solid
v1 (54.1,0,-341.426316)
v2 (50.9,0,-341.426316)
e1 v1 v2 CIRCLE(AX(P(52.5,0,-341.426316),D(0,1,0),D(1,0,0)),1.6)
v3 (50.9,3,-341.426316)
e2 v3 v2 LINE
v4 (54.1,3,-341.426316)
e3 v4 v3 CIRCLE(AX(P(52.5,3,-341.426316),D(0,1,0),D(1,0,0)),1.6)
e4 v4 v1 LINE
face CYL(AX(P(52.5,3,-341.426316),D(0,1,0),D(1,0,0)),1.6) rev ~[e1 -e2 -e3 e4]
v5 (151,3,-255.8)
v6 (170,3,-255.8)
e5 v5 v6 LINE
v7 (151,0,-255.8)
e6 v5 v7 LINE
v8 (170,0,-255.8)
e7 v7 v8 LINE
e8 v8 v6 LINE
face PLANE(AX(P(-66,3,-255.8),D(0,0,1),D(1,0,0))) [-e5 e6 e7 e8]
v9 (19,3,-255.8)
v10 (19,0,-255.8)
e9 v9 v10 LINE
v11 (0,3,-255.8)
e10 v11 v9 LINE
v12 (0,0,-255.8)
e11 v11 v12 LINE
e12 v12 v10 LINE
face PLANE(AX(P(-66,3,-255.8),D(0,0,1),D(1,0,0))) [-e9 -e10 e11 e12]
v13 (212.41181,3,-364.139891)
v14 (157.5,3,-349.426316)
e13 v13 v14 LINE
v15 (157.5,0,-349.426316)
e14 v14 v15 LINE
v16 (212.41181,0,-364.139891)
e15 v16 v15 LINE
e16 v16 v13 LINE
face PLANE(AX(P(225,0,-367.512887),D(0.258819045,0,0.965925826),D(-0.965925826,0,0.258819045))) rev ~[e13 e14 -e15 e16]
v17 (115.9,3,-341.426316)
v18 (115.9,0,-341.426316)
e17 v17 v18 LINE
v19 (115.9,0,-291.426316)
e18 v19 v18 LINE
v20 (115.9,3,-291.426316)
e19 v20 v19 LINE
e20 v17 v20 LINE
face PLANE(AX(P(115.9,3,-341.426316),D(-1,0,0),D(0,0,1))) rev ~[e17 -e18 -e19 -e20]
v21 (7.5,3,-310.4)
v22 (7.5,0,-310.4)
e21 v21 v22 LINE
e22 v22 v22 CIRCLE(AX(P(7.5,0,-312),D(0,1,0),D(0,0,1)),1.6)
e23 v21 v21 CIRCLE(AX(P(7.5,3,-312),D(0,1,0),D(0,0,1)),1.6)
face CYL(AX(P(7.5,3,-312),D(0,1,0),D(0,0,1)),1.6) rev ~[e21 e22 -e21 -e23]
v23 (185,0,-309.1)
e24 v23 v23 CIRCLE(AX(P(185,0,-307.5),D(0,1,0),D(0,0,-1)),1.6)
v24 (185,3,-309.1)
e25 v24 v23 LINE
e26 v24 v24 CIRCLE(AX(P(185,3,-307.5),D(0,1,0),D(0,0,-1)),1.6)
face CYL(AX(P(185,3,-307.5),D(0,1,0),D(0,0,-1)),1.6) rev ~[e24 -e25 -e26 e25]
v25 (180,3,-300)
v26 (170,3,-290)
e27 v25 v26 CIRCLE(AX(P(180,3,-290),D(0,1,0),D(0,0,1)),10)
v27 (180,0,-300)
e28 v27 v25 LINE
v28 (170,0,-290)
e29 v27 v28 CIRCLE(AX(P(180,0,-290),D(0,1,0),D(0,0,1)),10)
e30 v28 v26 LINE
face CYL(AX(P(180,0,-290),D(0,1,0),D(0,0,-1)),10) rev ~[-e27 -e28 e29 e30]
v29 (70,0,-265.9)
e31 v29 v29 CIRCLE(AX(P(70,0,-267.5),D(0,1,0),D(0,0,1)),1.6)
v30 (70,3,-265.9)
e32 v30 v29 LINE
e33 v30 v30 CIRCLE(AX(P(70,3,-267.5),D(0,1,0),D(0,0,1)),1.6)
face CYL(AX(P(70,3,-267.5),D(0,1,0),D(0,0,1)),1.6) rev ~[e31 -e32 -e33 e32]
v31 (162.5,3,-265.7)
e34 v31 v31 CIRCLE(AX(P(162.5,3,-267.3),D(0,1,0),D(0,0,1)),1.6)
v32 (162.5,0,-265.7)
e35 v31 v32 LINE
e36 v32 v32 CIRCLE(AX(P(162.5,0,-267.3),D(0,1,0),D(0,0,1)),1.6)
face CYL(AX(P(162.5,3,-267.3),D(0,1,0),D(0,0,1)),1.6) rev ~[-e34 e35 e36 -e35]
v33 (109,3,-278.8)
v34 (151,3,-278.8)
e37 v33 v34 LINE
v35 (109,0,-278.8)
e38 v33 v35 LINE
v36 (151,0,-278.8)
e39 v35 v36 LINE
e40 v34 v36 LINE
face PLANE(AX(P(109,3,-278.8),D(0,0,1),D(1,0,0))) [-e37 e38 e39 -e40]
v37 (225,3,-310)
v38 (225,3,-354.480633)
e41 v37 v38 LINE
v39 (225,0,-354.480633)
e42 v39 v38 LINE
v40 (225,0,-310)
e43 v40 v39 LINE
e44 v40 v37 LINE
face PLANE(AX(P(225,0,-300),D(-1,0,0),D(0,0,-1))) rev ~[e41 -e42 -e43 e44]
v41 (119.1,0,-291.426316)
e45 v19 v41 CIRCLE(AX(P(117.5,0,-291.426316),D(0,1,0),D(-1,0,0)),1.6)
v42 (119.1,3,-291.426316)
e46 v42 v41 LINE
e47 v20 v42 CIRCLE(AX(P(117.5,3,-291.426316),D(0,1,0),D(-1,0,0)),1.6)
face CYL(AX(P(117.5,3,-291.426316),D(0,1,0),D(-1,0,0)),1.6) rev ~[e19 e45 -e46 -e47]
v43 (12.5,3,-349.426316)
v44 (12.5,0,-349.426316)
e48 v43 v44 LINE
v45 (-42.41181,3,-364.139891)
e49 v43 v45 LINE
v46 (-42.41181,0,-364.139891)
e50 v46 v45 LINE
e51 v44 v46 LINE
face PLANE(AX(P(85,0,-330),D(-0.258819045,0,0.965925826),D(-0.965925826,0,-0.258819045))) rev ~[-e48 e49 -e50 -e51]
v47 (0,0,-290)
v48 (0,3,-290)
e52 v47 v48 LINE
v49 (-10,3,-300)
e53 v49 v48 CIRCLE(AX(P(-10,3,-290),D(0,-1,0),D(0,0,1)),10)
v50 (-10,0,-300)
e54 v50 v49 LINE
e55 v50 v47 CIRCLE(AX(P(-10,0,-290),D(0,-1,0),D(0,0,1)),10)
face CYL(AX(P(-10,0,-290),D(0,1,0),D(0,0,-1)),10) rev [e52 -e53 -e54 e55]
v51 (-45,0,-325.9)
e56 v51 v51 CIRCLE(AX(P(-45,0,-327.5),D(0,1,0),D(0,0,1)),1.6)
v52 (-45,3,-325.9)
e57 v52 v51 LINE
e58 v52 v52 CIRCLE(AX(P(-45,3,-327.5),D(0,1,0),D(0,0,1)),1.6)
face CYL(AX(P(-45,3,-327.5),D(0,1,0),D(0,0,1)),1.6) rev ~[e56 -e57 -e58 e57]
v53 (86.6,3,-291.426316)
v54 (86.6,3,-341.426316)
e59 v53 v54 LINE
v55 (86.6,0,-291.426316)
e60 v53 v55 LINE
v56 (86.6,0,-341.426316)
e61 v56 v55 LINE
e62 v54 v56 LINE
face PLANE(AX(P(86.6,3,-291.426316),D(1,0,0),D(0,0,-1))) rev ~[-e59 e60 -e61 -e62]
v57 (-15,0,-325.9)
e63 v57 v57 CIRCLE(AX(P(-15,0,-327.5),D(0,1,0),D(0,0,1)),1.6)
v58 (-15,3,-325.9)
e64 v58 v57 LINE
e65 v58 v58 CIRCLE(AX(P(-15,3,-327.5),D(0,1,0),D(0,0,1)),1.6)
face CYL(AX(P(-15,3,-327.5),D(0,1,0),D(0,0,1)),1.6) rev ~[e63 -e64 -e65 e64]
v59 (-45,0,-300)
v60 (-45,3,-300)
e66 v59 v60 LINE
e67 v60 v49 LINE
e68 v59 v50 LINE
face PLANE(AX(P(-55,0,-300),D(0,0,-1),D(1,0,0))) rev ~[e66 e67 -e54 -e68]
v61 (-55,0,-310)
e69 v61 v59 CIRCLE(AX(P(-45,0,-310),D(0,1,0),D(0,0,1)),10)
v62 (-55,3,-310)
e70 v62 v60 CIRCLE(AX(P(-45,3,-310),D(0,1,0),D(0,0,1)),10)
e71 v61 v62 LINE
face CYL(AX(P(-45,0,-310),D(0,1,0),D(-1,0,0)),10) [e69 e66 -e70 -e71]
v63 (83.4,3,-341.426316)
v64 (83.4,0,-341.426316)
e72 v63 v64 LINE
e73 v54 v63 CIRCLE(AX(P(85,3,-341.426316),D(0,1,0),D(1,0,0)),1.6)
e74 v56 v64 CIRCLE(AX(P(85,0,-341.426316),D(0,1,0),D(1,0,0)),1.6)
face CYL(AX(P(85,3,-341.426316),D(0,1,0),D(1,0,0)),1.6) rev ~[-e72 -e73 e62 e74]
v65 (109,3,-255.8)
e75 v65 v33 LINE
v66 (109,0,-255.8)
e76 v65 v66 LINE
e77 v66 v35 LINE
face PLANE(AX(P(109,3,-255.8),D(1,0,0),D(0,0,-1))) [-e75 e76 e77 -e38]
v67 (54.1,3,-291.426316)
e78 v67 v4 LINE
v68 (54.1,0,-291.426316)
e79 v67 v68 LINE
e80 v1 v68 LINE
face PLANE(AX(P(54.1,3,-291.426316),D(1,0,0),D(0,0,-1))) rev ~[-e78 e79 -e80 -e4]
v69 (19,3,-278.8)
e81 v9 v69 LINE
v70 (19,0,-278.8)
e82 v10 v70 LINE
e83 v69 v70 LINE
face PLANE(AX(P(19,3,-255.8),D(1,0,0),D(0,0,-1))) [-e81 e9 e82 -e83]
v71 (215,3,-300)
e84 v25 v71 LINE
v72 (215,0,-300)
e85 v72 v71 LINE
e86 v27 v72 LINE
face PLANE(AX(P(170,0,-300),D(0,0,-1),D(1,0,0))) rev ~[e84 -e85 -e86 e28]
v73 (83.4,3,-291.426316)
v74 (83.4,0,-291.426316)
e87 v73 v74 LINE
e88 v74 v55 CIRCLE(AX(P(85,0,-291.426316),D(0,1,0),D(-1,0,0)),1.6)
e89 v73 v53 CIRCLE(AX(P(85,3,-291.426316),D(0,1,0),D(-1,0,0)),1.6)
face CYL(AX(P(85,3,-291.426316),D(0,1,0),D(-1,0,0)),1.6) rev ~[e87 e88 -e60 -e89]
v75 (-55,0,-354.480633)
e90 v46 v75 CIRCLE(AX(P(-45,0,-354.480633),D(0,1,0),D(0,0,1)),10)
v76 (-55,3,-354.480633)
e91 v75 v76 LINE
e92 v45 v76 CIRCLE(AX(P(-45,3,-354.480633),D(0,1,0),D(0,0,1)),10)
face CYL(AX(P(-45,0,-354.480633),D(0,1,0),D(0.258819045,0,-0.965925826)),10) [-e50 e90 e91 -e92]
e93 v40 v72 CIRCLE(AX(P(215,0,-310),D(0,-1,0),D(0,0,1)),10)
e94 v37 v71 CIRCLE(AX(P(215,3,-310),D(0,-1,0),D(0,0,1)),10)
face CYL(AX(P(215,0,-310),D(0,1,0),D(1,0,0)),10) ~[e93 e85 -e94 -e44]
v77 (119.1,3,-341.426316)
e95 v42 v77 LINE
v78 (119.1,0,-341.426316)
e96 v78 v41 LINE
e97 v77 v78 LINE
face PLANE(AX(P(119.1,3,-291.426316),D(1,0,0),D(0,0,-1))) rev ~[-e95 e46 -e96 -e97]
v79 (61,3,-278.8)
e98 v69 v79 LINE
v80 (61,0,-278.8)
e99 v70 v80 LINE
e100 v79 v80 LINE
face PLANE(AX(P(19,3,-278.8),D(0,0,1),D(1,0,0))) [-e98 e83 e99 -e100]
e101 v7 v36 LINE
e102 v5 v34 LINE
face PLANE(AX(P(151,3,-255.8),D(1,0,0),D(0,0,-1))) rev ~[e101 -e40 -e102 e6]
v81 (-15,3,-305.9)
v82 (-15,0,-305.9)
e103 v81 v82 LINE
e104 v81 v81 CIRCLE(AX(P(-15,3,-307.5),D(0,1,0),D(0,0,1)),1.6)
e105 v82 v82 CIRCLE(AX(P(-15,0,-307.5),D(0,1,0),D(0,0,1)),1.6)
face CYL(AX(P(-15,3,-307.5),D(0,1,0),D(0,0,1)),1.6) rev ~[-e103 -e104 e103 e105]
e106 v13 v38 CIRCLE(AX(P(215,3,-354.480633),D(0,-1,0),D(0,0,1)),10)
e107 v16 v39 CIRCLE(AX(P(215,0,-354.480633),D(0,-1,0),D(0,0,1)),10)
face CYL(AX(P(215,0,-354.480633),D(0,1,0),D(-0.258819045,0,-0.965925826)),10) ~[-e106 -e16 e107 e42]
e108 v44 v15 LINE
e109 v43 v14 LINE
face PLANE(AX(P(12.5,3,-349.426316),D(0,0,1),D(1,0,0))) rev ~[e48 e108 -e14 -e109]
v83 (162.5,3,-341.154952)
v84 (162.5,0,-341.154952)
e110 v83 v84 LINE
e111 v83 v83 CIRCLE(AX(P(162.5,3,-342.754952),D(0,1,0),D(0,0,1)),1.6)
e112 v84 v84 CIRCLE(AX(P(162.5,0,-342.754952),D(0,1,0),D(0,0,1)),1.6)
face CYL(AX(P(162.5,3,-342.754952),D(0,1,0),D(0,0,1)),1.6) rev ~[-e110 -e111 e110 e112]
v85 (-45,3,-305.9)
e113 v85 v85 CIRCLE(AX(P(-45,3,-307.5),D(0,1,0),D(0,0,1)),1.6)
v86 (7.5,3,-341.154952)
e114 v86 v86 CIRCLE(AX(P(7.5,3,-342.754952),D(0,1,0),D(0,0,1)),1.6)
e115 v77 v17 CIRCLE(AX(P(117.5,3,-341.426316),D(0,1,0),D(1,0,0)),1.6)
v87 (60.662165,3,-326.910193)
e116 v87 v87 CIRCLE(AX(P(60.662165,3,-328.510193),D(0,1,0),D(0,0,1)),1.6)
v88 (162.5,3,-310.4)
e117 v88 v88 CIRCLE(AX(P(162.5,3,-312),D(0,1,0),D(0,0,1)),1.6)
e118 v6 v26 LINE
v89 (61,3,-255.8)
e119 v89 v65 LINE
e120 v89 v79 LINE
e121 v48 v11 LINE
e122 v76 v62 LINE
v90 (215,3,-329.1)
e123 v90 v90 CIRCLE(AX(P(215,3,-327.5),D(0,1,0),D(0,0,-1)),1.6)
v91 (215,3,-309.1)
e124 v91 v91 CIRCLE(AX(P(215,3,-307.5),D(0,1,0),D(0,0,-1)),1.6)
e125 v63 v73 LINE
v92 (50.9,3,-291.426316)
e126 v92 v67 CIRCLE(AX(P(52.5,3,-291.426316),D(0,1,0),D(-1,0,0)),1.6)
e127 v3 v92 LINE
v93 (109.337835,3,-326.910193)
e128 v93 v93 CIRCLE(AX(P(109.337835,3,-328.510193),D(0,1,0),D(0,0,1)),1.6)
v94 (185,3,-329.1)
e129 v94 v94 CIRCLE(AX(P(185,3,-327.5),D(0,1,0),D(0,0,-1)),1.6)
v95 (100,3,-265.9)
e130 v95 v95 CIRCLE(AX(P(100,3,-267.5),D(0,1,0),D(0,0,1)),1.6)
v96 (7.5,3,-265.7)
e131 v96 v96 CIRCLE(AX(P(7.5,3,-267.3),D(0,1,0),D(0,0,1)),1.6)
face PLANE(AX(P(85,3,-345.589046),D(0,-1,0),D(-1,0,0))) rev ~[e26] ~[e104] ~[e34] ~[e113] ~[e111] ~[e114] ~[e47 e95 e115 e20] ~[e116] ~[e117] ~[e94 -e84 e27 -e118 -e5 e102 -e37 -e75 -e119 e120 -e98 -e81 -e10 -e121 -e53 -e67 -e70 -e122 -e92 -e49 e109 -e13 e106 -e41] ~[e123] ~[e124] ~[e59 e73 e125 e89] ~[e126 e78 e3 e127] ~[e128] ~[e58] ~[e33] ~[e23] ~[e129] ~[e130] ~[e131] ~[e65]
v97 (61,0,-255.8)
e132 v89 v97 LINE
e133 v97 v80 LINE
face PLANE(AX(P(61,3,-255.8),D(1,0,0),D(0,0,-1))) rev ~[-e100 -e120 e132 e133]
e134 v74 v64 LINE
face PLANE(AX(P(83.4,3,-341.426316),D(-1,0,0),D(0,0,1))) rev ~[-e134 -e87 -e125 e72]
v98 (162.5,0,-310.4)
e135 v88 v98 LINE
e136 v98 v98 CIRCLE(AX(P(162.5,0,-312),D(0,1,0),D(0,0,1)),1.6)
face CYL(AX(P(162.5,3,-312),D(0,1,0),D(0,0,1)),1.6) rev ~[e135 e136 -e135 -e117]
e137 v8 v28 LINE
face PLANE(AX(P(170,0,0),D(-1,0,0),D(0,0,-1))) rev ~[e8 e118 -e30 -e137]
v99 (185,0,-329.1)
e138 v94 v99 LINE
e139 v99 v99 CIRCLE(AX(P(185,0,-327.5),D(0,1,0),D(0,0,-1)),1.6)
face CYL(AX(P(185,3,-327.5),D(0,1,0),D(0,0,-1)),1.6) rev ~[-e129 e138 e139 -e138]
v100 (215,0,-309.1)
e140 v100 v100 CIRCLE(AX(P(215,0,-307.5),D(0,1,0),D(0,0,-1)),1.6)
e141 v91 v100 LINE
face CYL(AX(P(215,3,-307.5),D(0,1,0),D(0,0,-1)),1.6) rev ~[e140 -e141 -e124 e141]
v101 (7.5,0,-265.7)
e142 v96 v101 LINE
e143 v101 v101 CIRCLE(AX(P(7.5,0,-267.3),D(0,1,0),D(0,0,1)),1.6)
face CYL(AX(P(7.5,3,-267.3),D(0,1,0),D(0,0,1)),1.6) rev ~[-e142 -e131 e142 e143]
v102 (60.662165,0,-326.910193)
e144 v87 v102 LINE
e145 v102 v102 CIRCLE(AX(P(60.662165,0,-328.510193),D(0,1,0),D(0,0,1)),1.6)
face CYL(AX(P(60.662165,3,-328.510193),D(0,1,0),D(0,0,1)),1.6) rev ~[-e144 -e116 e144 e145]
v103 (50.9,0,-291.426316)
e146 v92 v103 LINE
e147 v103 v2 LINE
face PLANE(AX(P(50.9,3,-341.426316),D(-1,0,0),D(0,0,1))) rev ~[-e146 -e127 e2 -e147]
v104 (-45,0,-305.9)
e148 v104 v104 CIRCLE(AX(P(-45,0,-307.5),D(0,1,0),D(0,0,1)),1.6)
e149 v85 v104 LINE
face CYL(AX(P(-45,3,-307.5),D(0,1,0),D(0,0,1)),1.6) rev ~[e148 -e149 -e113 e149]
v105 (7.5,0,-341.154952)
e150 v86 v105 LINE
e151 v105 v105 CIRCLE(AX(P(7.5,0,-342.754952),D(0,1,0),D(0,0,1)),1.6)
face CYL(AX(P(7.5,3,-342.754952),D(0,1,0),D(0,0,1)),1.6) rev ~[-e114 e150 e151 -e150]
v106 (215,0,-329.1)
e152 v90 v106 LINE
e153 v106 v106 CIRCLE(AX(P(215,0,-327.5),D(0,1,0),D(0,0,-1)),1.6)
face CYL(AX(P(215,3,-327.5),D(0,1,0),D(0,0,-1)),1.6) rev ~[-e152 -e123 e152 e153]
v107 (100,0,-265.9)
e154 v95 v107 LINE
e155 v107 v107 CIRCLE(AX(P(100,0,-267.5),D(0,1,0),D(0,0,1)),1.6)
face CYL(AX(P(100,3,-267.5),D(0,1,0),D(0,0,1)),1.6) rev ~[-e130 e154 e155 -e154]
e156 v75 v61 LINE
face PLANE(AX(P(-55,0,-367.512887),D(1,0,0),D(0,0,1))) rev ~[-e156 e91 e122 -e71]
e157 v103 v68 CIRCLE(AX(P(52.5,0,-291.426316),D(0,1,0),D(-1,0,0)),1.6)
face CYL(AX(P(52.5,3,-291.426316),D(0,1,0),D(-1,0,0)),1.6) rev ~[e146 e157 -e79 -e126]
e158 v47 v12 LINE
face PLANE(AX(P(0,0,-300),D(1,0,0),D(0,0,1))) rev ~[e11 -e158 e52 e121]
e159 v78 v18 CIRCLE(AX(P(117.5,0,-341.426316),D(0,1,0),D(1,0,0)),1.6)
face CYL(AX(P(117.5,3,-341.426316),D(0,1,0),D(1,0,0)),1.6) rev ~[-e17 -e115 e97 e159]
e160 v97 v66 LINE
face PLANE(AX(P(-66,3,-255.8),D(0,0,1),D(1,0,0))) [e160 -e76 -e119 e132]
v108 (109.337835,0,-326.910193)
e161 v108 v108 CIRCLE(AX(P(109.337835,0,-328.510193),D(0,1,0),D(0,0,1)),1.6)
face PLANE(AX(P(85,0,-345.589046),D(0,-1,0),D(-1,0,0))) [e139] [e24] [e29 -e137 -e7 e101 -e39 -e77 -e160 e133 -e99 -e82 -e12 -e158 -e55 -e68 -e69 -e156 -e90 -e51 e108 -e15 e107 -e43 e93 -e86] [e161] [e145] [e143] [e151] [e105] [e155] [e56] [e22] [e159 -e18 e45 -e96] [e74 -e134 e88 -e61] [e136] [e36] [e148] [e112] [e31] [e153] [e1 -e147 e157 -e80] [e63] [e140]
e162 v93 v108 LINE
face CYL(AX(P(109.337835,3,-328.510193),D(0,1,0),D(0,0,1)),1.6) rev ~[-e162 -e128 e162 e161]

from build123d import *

# Parameters (mm, degrees)
BOSS_EXTRUDE1_DEPTH = 3
FILLET1_R           = 200
FILLET2_R           = 10
CUT_EXTRUDE2_DEPTH  = 429.345808882
SKETCH3_W           = 42
SKETCH3_H           = 23
SKETCH3_H_2         = 19
CUT_EXTRUDE3_DEPTH  = 429.345808882
SKETCH4_R           = 1.6
CUT_EXTRUDE5_DEPTH  = 429.345808882
SKETCH5_R           = 1.6
CUT_EXTRUDE6_DEPTH  = 429.345808882
SKETCH6_W           = 66
SKETCH6_H           = 15
SKETCH6_R           = 1.6
BOSS_EXTRUDE2_DEPTH = 3
FILLET3_R           = 5
SKETCH7_R           = 1.6
CUT_EXTRUDE7_DEPTH  = 435.224748243
SKETCH9_R           = 1.6
CUT_EXTRUDE8_DEPTH  = 435.224748243
SKETCH10_W          = 302
SKETCH10_H          = 255.8
CUT_EXTRUDE9_DEPTH  = 10
BOSS_EXTRUDE5_DEPTH = 3
CUT_EXTRUDE10_DEPTH = 10


with BuildPart() as part:
    # Sketch1 → Boss-Extrude1 (new body)
    with BuildSketch(Plane(origin=(0, 0, 0), x_dir=(1, 0, 0), z_dir=(0, 1, 0))):
        Polygon((0, 0), (170, 0), (170, 300), (225, 300), (225, 367.51288694), (85, 330), (-55, 367.51288694), (-55, 300), (0, 300), align=None)
    extrude(amount=BOSS_EXTRUDE1_DEPTH)

    # Fillet1
    fillet1_edges = [part.edges().sort_by_distance(p)[0] for p in [
        (85, 1.5, -330),
    ]]
    fillet(fillet1_edges, radius=FILLET1_R)

    # Fillet2
    fillet2_edges = [part.edges().sort_by_distance(p)[0] for p in [
        (0, 1.5, -300),
        (-55, 1.5, -300),
        (-55, 1.5, -367.51288694),
        (225, 1.5, -367.51288694),
        (225, 1.5, -300),
        (170, 1.5, -300),
        (170, 1.5, 0),
        (0, 1.5, 0),
    ]]
    fillet(fillet2_edges, radius=FILLET2_R)

    # Sketch2 → Cut-Extrude2 (cut, through all)
    with BuildSketch(Plane(origin=(0, 3, 0), x_dir=(1, 0, 0), z_dir=(0, 1, 0))):
        with BuildLine():
            ThreePointArc((132.5, 80), (118.587572106, 113.587572106), (85, 127.5))
            Line((85, 127.5), (85, 32.5))
            ThreePointArc((85, 32.5), (118.587572106, 46.412427894), (132.5, 80))
        make_face()
        with BuildLine():
            Line((85, 32.5), (85, 127.5))
            ThreePointArc((85, 127.5), (37.5, 80), (85, 32.5))
        make_face()
    extrude(amount=-CUT_EXTRUDE2_DEPTH, mode=Mode.SUBTRACT)

    # Sketch3 → Cut-Extrude3 (cut, through all)
    with BuildSketch(Plane(origin=(0, 3, 0), x_dir=(1, 0, 0), z_dir=(0, 1, 0))):
        with Locations((40, 267.3)):
            Rectangle(SKETCH3_W, SKETCH3_H)
        with Locations((130, 267.3)):
            Rectangle(SKETCH3_W, SKETCH3_H)
        with Locations((40, 9.5)):
            Rectangle(SKETCH3_W, SKETCH3_H_2)
        with Locations((130, 9.5)):
            Rectangle(SKETCH3_W, SKETCH3_H_2)
    extrude(amount=-CUT_EXTRUDE3_DEPTH, mode=Mode.SUBTRACT)

    # Sketch4 → Cut-Extrude5 (cut, through all)
    with BuildSketch(Plane(origin=(0, 3, 0), x_dir=(1, 0, 0), z_dir=(0, 1, 0))):
        with Locations(Location((85, 133, 0), (0, 0, 270))):
            Circle(SKETCH4_R)
        with Locations(Location((122.476659403, 117.476659403, 0), (0, 0, 270))):
            Circle(SKETCH4_R)
        with Locations(Location((138, 80, 0), (0, 0, 270))):
            Circle(SKETCH4_R)
        with Locations(Location((122.476659403, 42.523340597, 0), (0, 0, 270))):
            Circle(SKETCH4_R)
        with Locations(Location((85, 27, 0), (0, 0, 270))):
            Circle(SKETCH4_R)
        with Locations(Location((47.523340597, 42.523340597, 0), (0, 0, 270))):
            Circle(SKETCH4_R)
        with Locations(Location((32, 80, 0), (0, 0, 270))):
            Circle(SKETCH4_R)
        with Locations(Location((47.523340597, 117.476659403, 0), (0, 0, 270))):
            Circle(SKETCH4_R)
    extrude(amount=-CUT_EXTRUDE5_DEPTH, mode=Mode.SUBTRACT)

    # Sketch5 → Cut-Extrude6 (cut, through all)
    with BuildSketch(Plane(origin=(0, 3, 0), x_dir=(1, 0, 0), z_dir=(0, 1, 0))):
        with Locations(Location((7.5, 312, 0), (0, 0, 270))):
            Circle(SKETCH5_R)
        with Locations(Location((7.5, 267.3, 0), (0, 0, 270))):
            Circle(SKETCH5_R)
        with Locations(Location((7.5, 222.3, 0), (0, 0, 270))):
            Circle(SKETCH5_R)
        with Locations(Location((7.5, 97.5, 0), (0, 0, 270))):
            Circle(SKETCH5_R)
        with Locations(Location((7.5, 7.5, 0), (0, 0, 270))):
            Circle(SKETCH5_R)
        with Locations(Location((7.5, 52.5, 0), (0, 0, 270))):
            Circle(SKETCH5_R)
        with Locations(Location((70, 7.5, 0), (0, 0, 270))):
            Circle(SKETCH5_R)
        with Locations(Location((100, 7.5, 0), (0, 0, 270))):
            Circle(SKETCH5_R)
        with Locations(Location((162.5, 7.5, 0), (0, 0, 270))):
            Circle(SKETCH5_R)
        with Locations(Location((162.5, 52.5, 0), (0, 0, 270))):
            Circle(SKETCH5_R)
        with Locations(Location((162.5, 97.5, 0), (0, 0, 270))):
            Circle(SKETCH5_R)
        with Locations(Location((162.5, 222.3, 0), (0, 0, 270))):
            Circle(SKETCH5_R)
        with Locations(Location((162.5, 267.3, 0), (0, 0, 270))):
            Circle(SKETCH5_R)
        with Locations(Location((162.5, 312, 0), (0, 0, 270))):
            Circle(SKETCH5_R)
        with Locations(Location((162.5, 342.75495241, 0), (0, 0, 270))):
            Circle(SKETCH5_R)
        with Locations(Location((109.337835254, 328.510193298, 0), (0, 0, 270))):
            Circle(SKETCH5_R)
        with Locations(Location((60.662164746, 328.510193298, 0), (0, 0, 270))):
            Circle(SKETCH5_R)
        with Locations(Location((7.5, 342.75495241, 0), (0, 0, 270))):
            Circle(SKETCH5_R)
        with Locations(Location((70, 267.5, 0), (0, 0, 270))):
            Circle(SKETCH5_R)
        with Locations(Location((100, 267.5, 0), (0, 0, 270))):
            Circle(SKETCH5_R)
    extrude(amount=-CUT_EXTRUDE6_DEPTH, mode=Mode.SUBTRACT)

    # Sketch6 → Boss-Extrude2 (add)
    # profile 1 of 2: a face of its own
    with BuildSketch(Plane.XZ):
        with Locations((-33, -52.5)):
            Rectangle(SKETCH6_W, SKETCH6_H)
        with Locations(Location((-45, -52.5, 0), (0, 0, 270))):
            Circle(SKETCH6_R, mode=Mode.SUBTRACT)
        with Locations(Location((-21, -52.5, 0), (0, 0, 270))):
            Circle(SKETCH6_R, mode=Mode.SUBTRACT)
    # profile 2 of 2: a face of its own
    with BuildSketch(Plane.XZ):
        with Locations((203, -52.5)):
            Rectangle(SKETCH6_W, SKETCH6_H)
        with Locations(Location((191, -52.5, 0), (0, 0, 270))):
            Circle(SKETCH6_R, mode=Mode.SUBTRACT)
        with Locations(Location((215, -52.5, 0), (0, 0, 270))):
            Circle(SKETCH6_R, mode=Mode.SUBTRACT)
    extrude(amount=-BOSS_EXTRUDE2_DEPTH)

    # Fillet3
    fillet3_edges = [part.edges().sort_by_distance(p)[0] for p in [
        (19, 1.5, 0),
        (61, 1.5, 0),
        (109, 1.5, 0),
        (109, 1.5, -19),
        (151, 1.5, -19),
        (151, 1.5, 0),
        (0, 1.5, -45),
        (0, 1.5, -60),
        (-66, 1.5, -60),
        (-66, 1.5, -45),
        (170, 1.5, -60),
        (170, 1.5, -45),
        (236, 1.5, -45),
        (236, 1.5, -60),
    ]]
    fillet(fillet3_edges, radius=FILLET3_R)

    # Sketch7 → Cut-Extrude7 (cut, through all)
    with BuildSketch(Plane(origin=(0, 3, 0), x_dir=(1, 0, 0), z_dir=(0, 1, 0))):
        with Locations(Location((130, 171.5, 0), (0, 0, 270))):
            Circle(SKETCH7_R)
        with Locations(Location((145, 171.5, 0), (0, 0, 270))):
            Circle(SKETCH7_R)
        with Locations(Location((145, 159.5, 0), (0, 0, 270))):
            Circle(SKETCH7_R)
        with Locations(Location((130, 159.5, 0), (0, 0, 270))):
            Circle(SKETCH7_R)
        with Locations(Location((25, 171.5, 0), (0, 0, 270))):
            Circle(SKETCH7_R)
        with Locations(Location((40, 171.5, 0), (0, 0, 270))):
            Circle(SKETCH7_R)
        with Locations(Location((40, 159.5, 0), (0, 0, 270))):
            Circle(SKETCH7_R)
        with Locations(Location((25, 159.5, 0), (0, 0, 270))):
            Circle(SKETCH7_R)
        with Locations(Location((70, 242, 0), (0, 0, 270))):
            Circle(SKETCH7_R)
        with Locations(Location((100, 242, 0), (0, 0, 270))):
            Circle(SKETCH7_R)
    extrude(amount=-CUT_EXTRUDE7_DEPTH, mode=Mode.SUBTRACT)

    # Sketch9 → Cut-Extrude8 (cut, through all)
    with BuildSketch(Plane(origin=(0, 3, 0), x_dir=(1, 0, 0), z_dir=(0, 1, 0))):
        with Locations(Location((-45, 307.5, 0), (0, 0, 270))):
            Circle(SKETCH9_R)
        with Locations(Location((-15, 307.5, 0), (0, 0, 270))):
            Circle(SKETCH9_R)
        with Locations(Location((-45, 327.5, 0), (0, 0, 270))):
            Circle(SKETCH9_R)
        with Locations(Location((-15, 327.5, 0), (0, 0, 270))):
            Circle(SKETCH9_R)
        with Locations(Location((185, 307.5, 0), (0, 0, 90))):
            Circle(SKETCH9_R)
        with Locations(Location((185, 327.5, 0), (0, 0, 90))):
            Circle(SKETCH9_R)
        with Locations(Location((215, 307.5, 0), (0, 0, 90))):
            Circle(SKETCH9_R)
        with Locations(Location((215, 327.5, 0), (0, 0, 90))):
            Circle(SKETCH9_R)
    extrude(amount=-CUT_EXTRUDE8_DEPTH, mode=Mode.SUBTRACT)

    # Sketch10 → Cut-Extrude9 (cut)
    with BuildSketch(Plane(origin=(0, 3, 0), x_dir=(1, 0, 0), z_dir=(0, 1, 0))):
        with Locations((85, 127.9)):
            Rectangle(SKETCH10_W, SKETCH10_H)
    extrude(amount=-CUT_EXTRUDE9_DEPTH, mode=Mode.SUBTRACT)

    # Sketch11 → Boss-Extrude5 (add)
    with BuildSketch(Plane(origin=(0, 3, 0), x_dir=(1, 0, 0), z_dir=(0, 1, 0))):
        with BuildLine():
            Line((33.236190979, 343.870070824), (12.5, 349.426316451))
            Line((12.5, 349.426316451), (157.5, 349.426316451))
            Line((157.5, 349.426316451), (136.763809021, 343.870070824))
            ThreePointArc((136.763809021, 343.870070824), (85, 337.055236082), (33.236190979, 343.870070824))
        make_face()
    extrude(amount=-BOSS_EXTRUDE5_DEPTH)

    # Sketch12 → Cut-Extrude10 (cut)
    with BuildSketch(Plane(origin=(0, 3, 0), x_dir=(1, 0, 0), z_dir=(0, 1, 0))):
        with BuildLine():
            Line((50.9, 341.426316451), (50.9, 291.426316451))
            ThreePointArc((50.9, 291.426316451), (52.5, 289.826316451), (54.1, 291.426316451))
            Line((54.1, 291.426316451), (54.1, 341.426316451))
            ThreePointArc((54.1, 341.426316451), (52.5, 343.026316451), (50.9, 341.426316451))
        make_face()
        with BuildLine():
            Line((83.4, 341.426316451), (83.4, 291.426316451))
            ThreePointArc((83.4, 291.426316451), (85, 289.826316451), (86.6, 291.426316451))
            Line((86.6, 291.426316451), (86.6, 341.426316451))
            ThreePointArc((86.6, 341.426316451), (85, 343.026316451), (83.4, 341.426316451))
        make_face()
        with BuildLine():
            Line((115.9, 341.426316451), (115.9, 291.426316451))
            ThreePointArc((115.9, 291.426316451), (117.5, 289.826316451), (119.1, 291.426316451))
            Line((119.1, 291.426316451), (119.1, 341.426316451))
            ThreePointArc((119.1, 341.426316451), (117.5, 343.026316451), (115.9, 341.426316451))
        make_face()
    extrude(amount=-CUT_EXTRUDE10_DEPTH, mode=Mode.SUBTRACT)


solid = part.part
